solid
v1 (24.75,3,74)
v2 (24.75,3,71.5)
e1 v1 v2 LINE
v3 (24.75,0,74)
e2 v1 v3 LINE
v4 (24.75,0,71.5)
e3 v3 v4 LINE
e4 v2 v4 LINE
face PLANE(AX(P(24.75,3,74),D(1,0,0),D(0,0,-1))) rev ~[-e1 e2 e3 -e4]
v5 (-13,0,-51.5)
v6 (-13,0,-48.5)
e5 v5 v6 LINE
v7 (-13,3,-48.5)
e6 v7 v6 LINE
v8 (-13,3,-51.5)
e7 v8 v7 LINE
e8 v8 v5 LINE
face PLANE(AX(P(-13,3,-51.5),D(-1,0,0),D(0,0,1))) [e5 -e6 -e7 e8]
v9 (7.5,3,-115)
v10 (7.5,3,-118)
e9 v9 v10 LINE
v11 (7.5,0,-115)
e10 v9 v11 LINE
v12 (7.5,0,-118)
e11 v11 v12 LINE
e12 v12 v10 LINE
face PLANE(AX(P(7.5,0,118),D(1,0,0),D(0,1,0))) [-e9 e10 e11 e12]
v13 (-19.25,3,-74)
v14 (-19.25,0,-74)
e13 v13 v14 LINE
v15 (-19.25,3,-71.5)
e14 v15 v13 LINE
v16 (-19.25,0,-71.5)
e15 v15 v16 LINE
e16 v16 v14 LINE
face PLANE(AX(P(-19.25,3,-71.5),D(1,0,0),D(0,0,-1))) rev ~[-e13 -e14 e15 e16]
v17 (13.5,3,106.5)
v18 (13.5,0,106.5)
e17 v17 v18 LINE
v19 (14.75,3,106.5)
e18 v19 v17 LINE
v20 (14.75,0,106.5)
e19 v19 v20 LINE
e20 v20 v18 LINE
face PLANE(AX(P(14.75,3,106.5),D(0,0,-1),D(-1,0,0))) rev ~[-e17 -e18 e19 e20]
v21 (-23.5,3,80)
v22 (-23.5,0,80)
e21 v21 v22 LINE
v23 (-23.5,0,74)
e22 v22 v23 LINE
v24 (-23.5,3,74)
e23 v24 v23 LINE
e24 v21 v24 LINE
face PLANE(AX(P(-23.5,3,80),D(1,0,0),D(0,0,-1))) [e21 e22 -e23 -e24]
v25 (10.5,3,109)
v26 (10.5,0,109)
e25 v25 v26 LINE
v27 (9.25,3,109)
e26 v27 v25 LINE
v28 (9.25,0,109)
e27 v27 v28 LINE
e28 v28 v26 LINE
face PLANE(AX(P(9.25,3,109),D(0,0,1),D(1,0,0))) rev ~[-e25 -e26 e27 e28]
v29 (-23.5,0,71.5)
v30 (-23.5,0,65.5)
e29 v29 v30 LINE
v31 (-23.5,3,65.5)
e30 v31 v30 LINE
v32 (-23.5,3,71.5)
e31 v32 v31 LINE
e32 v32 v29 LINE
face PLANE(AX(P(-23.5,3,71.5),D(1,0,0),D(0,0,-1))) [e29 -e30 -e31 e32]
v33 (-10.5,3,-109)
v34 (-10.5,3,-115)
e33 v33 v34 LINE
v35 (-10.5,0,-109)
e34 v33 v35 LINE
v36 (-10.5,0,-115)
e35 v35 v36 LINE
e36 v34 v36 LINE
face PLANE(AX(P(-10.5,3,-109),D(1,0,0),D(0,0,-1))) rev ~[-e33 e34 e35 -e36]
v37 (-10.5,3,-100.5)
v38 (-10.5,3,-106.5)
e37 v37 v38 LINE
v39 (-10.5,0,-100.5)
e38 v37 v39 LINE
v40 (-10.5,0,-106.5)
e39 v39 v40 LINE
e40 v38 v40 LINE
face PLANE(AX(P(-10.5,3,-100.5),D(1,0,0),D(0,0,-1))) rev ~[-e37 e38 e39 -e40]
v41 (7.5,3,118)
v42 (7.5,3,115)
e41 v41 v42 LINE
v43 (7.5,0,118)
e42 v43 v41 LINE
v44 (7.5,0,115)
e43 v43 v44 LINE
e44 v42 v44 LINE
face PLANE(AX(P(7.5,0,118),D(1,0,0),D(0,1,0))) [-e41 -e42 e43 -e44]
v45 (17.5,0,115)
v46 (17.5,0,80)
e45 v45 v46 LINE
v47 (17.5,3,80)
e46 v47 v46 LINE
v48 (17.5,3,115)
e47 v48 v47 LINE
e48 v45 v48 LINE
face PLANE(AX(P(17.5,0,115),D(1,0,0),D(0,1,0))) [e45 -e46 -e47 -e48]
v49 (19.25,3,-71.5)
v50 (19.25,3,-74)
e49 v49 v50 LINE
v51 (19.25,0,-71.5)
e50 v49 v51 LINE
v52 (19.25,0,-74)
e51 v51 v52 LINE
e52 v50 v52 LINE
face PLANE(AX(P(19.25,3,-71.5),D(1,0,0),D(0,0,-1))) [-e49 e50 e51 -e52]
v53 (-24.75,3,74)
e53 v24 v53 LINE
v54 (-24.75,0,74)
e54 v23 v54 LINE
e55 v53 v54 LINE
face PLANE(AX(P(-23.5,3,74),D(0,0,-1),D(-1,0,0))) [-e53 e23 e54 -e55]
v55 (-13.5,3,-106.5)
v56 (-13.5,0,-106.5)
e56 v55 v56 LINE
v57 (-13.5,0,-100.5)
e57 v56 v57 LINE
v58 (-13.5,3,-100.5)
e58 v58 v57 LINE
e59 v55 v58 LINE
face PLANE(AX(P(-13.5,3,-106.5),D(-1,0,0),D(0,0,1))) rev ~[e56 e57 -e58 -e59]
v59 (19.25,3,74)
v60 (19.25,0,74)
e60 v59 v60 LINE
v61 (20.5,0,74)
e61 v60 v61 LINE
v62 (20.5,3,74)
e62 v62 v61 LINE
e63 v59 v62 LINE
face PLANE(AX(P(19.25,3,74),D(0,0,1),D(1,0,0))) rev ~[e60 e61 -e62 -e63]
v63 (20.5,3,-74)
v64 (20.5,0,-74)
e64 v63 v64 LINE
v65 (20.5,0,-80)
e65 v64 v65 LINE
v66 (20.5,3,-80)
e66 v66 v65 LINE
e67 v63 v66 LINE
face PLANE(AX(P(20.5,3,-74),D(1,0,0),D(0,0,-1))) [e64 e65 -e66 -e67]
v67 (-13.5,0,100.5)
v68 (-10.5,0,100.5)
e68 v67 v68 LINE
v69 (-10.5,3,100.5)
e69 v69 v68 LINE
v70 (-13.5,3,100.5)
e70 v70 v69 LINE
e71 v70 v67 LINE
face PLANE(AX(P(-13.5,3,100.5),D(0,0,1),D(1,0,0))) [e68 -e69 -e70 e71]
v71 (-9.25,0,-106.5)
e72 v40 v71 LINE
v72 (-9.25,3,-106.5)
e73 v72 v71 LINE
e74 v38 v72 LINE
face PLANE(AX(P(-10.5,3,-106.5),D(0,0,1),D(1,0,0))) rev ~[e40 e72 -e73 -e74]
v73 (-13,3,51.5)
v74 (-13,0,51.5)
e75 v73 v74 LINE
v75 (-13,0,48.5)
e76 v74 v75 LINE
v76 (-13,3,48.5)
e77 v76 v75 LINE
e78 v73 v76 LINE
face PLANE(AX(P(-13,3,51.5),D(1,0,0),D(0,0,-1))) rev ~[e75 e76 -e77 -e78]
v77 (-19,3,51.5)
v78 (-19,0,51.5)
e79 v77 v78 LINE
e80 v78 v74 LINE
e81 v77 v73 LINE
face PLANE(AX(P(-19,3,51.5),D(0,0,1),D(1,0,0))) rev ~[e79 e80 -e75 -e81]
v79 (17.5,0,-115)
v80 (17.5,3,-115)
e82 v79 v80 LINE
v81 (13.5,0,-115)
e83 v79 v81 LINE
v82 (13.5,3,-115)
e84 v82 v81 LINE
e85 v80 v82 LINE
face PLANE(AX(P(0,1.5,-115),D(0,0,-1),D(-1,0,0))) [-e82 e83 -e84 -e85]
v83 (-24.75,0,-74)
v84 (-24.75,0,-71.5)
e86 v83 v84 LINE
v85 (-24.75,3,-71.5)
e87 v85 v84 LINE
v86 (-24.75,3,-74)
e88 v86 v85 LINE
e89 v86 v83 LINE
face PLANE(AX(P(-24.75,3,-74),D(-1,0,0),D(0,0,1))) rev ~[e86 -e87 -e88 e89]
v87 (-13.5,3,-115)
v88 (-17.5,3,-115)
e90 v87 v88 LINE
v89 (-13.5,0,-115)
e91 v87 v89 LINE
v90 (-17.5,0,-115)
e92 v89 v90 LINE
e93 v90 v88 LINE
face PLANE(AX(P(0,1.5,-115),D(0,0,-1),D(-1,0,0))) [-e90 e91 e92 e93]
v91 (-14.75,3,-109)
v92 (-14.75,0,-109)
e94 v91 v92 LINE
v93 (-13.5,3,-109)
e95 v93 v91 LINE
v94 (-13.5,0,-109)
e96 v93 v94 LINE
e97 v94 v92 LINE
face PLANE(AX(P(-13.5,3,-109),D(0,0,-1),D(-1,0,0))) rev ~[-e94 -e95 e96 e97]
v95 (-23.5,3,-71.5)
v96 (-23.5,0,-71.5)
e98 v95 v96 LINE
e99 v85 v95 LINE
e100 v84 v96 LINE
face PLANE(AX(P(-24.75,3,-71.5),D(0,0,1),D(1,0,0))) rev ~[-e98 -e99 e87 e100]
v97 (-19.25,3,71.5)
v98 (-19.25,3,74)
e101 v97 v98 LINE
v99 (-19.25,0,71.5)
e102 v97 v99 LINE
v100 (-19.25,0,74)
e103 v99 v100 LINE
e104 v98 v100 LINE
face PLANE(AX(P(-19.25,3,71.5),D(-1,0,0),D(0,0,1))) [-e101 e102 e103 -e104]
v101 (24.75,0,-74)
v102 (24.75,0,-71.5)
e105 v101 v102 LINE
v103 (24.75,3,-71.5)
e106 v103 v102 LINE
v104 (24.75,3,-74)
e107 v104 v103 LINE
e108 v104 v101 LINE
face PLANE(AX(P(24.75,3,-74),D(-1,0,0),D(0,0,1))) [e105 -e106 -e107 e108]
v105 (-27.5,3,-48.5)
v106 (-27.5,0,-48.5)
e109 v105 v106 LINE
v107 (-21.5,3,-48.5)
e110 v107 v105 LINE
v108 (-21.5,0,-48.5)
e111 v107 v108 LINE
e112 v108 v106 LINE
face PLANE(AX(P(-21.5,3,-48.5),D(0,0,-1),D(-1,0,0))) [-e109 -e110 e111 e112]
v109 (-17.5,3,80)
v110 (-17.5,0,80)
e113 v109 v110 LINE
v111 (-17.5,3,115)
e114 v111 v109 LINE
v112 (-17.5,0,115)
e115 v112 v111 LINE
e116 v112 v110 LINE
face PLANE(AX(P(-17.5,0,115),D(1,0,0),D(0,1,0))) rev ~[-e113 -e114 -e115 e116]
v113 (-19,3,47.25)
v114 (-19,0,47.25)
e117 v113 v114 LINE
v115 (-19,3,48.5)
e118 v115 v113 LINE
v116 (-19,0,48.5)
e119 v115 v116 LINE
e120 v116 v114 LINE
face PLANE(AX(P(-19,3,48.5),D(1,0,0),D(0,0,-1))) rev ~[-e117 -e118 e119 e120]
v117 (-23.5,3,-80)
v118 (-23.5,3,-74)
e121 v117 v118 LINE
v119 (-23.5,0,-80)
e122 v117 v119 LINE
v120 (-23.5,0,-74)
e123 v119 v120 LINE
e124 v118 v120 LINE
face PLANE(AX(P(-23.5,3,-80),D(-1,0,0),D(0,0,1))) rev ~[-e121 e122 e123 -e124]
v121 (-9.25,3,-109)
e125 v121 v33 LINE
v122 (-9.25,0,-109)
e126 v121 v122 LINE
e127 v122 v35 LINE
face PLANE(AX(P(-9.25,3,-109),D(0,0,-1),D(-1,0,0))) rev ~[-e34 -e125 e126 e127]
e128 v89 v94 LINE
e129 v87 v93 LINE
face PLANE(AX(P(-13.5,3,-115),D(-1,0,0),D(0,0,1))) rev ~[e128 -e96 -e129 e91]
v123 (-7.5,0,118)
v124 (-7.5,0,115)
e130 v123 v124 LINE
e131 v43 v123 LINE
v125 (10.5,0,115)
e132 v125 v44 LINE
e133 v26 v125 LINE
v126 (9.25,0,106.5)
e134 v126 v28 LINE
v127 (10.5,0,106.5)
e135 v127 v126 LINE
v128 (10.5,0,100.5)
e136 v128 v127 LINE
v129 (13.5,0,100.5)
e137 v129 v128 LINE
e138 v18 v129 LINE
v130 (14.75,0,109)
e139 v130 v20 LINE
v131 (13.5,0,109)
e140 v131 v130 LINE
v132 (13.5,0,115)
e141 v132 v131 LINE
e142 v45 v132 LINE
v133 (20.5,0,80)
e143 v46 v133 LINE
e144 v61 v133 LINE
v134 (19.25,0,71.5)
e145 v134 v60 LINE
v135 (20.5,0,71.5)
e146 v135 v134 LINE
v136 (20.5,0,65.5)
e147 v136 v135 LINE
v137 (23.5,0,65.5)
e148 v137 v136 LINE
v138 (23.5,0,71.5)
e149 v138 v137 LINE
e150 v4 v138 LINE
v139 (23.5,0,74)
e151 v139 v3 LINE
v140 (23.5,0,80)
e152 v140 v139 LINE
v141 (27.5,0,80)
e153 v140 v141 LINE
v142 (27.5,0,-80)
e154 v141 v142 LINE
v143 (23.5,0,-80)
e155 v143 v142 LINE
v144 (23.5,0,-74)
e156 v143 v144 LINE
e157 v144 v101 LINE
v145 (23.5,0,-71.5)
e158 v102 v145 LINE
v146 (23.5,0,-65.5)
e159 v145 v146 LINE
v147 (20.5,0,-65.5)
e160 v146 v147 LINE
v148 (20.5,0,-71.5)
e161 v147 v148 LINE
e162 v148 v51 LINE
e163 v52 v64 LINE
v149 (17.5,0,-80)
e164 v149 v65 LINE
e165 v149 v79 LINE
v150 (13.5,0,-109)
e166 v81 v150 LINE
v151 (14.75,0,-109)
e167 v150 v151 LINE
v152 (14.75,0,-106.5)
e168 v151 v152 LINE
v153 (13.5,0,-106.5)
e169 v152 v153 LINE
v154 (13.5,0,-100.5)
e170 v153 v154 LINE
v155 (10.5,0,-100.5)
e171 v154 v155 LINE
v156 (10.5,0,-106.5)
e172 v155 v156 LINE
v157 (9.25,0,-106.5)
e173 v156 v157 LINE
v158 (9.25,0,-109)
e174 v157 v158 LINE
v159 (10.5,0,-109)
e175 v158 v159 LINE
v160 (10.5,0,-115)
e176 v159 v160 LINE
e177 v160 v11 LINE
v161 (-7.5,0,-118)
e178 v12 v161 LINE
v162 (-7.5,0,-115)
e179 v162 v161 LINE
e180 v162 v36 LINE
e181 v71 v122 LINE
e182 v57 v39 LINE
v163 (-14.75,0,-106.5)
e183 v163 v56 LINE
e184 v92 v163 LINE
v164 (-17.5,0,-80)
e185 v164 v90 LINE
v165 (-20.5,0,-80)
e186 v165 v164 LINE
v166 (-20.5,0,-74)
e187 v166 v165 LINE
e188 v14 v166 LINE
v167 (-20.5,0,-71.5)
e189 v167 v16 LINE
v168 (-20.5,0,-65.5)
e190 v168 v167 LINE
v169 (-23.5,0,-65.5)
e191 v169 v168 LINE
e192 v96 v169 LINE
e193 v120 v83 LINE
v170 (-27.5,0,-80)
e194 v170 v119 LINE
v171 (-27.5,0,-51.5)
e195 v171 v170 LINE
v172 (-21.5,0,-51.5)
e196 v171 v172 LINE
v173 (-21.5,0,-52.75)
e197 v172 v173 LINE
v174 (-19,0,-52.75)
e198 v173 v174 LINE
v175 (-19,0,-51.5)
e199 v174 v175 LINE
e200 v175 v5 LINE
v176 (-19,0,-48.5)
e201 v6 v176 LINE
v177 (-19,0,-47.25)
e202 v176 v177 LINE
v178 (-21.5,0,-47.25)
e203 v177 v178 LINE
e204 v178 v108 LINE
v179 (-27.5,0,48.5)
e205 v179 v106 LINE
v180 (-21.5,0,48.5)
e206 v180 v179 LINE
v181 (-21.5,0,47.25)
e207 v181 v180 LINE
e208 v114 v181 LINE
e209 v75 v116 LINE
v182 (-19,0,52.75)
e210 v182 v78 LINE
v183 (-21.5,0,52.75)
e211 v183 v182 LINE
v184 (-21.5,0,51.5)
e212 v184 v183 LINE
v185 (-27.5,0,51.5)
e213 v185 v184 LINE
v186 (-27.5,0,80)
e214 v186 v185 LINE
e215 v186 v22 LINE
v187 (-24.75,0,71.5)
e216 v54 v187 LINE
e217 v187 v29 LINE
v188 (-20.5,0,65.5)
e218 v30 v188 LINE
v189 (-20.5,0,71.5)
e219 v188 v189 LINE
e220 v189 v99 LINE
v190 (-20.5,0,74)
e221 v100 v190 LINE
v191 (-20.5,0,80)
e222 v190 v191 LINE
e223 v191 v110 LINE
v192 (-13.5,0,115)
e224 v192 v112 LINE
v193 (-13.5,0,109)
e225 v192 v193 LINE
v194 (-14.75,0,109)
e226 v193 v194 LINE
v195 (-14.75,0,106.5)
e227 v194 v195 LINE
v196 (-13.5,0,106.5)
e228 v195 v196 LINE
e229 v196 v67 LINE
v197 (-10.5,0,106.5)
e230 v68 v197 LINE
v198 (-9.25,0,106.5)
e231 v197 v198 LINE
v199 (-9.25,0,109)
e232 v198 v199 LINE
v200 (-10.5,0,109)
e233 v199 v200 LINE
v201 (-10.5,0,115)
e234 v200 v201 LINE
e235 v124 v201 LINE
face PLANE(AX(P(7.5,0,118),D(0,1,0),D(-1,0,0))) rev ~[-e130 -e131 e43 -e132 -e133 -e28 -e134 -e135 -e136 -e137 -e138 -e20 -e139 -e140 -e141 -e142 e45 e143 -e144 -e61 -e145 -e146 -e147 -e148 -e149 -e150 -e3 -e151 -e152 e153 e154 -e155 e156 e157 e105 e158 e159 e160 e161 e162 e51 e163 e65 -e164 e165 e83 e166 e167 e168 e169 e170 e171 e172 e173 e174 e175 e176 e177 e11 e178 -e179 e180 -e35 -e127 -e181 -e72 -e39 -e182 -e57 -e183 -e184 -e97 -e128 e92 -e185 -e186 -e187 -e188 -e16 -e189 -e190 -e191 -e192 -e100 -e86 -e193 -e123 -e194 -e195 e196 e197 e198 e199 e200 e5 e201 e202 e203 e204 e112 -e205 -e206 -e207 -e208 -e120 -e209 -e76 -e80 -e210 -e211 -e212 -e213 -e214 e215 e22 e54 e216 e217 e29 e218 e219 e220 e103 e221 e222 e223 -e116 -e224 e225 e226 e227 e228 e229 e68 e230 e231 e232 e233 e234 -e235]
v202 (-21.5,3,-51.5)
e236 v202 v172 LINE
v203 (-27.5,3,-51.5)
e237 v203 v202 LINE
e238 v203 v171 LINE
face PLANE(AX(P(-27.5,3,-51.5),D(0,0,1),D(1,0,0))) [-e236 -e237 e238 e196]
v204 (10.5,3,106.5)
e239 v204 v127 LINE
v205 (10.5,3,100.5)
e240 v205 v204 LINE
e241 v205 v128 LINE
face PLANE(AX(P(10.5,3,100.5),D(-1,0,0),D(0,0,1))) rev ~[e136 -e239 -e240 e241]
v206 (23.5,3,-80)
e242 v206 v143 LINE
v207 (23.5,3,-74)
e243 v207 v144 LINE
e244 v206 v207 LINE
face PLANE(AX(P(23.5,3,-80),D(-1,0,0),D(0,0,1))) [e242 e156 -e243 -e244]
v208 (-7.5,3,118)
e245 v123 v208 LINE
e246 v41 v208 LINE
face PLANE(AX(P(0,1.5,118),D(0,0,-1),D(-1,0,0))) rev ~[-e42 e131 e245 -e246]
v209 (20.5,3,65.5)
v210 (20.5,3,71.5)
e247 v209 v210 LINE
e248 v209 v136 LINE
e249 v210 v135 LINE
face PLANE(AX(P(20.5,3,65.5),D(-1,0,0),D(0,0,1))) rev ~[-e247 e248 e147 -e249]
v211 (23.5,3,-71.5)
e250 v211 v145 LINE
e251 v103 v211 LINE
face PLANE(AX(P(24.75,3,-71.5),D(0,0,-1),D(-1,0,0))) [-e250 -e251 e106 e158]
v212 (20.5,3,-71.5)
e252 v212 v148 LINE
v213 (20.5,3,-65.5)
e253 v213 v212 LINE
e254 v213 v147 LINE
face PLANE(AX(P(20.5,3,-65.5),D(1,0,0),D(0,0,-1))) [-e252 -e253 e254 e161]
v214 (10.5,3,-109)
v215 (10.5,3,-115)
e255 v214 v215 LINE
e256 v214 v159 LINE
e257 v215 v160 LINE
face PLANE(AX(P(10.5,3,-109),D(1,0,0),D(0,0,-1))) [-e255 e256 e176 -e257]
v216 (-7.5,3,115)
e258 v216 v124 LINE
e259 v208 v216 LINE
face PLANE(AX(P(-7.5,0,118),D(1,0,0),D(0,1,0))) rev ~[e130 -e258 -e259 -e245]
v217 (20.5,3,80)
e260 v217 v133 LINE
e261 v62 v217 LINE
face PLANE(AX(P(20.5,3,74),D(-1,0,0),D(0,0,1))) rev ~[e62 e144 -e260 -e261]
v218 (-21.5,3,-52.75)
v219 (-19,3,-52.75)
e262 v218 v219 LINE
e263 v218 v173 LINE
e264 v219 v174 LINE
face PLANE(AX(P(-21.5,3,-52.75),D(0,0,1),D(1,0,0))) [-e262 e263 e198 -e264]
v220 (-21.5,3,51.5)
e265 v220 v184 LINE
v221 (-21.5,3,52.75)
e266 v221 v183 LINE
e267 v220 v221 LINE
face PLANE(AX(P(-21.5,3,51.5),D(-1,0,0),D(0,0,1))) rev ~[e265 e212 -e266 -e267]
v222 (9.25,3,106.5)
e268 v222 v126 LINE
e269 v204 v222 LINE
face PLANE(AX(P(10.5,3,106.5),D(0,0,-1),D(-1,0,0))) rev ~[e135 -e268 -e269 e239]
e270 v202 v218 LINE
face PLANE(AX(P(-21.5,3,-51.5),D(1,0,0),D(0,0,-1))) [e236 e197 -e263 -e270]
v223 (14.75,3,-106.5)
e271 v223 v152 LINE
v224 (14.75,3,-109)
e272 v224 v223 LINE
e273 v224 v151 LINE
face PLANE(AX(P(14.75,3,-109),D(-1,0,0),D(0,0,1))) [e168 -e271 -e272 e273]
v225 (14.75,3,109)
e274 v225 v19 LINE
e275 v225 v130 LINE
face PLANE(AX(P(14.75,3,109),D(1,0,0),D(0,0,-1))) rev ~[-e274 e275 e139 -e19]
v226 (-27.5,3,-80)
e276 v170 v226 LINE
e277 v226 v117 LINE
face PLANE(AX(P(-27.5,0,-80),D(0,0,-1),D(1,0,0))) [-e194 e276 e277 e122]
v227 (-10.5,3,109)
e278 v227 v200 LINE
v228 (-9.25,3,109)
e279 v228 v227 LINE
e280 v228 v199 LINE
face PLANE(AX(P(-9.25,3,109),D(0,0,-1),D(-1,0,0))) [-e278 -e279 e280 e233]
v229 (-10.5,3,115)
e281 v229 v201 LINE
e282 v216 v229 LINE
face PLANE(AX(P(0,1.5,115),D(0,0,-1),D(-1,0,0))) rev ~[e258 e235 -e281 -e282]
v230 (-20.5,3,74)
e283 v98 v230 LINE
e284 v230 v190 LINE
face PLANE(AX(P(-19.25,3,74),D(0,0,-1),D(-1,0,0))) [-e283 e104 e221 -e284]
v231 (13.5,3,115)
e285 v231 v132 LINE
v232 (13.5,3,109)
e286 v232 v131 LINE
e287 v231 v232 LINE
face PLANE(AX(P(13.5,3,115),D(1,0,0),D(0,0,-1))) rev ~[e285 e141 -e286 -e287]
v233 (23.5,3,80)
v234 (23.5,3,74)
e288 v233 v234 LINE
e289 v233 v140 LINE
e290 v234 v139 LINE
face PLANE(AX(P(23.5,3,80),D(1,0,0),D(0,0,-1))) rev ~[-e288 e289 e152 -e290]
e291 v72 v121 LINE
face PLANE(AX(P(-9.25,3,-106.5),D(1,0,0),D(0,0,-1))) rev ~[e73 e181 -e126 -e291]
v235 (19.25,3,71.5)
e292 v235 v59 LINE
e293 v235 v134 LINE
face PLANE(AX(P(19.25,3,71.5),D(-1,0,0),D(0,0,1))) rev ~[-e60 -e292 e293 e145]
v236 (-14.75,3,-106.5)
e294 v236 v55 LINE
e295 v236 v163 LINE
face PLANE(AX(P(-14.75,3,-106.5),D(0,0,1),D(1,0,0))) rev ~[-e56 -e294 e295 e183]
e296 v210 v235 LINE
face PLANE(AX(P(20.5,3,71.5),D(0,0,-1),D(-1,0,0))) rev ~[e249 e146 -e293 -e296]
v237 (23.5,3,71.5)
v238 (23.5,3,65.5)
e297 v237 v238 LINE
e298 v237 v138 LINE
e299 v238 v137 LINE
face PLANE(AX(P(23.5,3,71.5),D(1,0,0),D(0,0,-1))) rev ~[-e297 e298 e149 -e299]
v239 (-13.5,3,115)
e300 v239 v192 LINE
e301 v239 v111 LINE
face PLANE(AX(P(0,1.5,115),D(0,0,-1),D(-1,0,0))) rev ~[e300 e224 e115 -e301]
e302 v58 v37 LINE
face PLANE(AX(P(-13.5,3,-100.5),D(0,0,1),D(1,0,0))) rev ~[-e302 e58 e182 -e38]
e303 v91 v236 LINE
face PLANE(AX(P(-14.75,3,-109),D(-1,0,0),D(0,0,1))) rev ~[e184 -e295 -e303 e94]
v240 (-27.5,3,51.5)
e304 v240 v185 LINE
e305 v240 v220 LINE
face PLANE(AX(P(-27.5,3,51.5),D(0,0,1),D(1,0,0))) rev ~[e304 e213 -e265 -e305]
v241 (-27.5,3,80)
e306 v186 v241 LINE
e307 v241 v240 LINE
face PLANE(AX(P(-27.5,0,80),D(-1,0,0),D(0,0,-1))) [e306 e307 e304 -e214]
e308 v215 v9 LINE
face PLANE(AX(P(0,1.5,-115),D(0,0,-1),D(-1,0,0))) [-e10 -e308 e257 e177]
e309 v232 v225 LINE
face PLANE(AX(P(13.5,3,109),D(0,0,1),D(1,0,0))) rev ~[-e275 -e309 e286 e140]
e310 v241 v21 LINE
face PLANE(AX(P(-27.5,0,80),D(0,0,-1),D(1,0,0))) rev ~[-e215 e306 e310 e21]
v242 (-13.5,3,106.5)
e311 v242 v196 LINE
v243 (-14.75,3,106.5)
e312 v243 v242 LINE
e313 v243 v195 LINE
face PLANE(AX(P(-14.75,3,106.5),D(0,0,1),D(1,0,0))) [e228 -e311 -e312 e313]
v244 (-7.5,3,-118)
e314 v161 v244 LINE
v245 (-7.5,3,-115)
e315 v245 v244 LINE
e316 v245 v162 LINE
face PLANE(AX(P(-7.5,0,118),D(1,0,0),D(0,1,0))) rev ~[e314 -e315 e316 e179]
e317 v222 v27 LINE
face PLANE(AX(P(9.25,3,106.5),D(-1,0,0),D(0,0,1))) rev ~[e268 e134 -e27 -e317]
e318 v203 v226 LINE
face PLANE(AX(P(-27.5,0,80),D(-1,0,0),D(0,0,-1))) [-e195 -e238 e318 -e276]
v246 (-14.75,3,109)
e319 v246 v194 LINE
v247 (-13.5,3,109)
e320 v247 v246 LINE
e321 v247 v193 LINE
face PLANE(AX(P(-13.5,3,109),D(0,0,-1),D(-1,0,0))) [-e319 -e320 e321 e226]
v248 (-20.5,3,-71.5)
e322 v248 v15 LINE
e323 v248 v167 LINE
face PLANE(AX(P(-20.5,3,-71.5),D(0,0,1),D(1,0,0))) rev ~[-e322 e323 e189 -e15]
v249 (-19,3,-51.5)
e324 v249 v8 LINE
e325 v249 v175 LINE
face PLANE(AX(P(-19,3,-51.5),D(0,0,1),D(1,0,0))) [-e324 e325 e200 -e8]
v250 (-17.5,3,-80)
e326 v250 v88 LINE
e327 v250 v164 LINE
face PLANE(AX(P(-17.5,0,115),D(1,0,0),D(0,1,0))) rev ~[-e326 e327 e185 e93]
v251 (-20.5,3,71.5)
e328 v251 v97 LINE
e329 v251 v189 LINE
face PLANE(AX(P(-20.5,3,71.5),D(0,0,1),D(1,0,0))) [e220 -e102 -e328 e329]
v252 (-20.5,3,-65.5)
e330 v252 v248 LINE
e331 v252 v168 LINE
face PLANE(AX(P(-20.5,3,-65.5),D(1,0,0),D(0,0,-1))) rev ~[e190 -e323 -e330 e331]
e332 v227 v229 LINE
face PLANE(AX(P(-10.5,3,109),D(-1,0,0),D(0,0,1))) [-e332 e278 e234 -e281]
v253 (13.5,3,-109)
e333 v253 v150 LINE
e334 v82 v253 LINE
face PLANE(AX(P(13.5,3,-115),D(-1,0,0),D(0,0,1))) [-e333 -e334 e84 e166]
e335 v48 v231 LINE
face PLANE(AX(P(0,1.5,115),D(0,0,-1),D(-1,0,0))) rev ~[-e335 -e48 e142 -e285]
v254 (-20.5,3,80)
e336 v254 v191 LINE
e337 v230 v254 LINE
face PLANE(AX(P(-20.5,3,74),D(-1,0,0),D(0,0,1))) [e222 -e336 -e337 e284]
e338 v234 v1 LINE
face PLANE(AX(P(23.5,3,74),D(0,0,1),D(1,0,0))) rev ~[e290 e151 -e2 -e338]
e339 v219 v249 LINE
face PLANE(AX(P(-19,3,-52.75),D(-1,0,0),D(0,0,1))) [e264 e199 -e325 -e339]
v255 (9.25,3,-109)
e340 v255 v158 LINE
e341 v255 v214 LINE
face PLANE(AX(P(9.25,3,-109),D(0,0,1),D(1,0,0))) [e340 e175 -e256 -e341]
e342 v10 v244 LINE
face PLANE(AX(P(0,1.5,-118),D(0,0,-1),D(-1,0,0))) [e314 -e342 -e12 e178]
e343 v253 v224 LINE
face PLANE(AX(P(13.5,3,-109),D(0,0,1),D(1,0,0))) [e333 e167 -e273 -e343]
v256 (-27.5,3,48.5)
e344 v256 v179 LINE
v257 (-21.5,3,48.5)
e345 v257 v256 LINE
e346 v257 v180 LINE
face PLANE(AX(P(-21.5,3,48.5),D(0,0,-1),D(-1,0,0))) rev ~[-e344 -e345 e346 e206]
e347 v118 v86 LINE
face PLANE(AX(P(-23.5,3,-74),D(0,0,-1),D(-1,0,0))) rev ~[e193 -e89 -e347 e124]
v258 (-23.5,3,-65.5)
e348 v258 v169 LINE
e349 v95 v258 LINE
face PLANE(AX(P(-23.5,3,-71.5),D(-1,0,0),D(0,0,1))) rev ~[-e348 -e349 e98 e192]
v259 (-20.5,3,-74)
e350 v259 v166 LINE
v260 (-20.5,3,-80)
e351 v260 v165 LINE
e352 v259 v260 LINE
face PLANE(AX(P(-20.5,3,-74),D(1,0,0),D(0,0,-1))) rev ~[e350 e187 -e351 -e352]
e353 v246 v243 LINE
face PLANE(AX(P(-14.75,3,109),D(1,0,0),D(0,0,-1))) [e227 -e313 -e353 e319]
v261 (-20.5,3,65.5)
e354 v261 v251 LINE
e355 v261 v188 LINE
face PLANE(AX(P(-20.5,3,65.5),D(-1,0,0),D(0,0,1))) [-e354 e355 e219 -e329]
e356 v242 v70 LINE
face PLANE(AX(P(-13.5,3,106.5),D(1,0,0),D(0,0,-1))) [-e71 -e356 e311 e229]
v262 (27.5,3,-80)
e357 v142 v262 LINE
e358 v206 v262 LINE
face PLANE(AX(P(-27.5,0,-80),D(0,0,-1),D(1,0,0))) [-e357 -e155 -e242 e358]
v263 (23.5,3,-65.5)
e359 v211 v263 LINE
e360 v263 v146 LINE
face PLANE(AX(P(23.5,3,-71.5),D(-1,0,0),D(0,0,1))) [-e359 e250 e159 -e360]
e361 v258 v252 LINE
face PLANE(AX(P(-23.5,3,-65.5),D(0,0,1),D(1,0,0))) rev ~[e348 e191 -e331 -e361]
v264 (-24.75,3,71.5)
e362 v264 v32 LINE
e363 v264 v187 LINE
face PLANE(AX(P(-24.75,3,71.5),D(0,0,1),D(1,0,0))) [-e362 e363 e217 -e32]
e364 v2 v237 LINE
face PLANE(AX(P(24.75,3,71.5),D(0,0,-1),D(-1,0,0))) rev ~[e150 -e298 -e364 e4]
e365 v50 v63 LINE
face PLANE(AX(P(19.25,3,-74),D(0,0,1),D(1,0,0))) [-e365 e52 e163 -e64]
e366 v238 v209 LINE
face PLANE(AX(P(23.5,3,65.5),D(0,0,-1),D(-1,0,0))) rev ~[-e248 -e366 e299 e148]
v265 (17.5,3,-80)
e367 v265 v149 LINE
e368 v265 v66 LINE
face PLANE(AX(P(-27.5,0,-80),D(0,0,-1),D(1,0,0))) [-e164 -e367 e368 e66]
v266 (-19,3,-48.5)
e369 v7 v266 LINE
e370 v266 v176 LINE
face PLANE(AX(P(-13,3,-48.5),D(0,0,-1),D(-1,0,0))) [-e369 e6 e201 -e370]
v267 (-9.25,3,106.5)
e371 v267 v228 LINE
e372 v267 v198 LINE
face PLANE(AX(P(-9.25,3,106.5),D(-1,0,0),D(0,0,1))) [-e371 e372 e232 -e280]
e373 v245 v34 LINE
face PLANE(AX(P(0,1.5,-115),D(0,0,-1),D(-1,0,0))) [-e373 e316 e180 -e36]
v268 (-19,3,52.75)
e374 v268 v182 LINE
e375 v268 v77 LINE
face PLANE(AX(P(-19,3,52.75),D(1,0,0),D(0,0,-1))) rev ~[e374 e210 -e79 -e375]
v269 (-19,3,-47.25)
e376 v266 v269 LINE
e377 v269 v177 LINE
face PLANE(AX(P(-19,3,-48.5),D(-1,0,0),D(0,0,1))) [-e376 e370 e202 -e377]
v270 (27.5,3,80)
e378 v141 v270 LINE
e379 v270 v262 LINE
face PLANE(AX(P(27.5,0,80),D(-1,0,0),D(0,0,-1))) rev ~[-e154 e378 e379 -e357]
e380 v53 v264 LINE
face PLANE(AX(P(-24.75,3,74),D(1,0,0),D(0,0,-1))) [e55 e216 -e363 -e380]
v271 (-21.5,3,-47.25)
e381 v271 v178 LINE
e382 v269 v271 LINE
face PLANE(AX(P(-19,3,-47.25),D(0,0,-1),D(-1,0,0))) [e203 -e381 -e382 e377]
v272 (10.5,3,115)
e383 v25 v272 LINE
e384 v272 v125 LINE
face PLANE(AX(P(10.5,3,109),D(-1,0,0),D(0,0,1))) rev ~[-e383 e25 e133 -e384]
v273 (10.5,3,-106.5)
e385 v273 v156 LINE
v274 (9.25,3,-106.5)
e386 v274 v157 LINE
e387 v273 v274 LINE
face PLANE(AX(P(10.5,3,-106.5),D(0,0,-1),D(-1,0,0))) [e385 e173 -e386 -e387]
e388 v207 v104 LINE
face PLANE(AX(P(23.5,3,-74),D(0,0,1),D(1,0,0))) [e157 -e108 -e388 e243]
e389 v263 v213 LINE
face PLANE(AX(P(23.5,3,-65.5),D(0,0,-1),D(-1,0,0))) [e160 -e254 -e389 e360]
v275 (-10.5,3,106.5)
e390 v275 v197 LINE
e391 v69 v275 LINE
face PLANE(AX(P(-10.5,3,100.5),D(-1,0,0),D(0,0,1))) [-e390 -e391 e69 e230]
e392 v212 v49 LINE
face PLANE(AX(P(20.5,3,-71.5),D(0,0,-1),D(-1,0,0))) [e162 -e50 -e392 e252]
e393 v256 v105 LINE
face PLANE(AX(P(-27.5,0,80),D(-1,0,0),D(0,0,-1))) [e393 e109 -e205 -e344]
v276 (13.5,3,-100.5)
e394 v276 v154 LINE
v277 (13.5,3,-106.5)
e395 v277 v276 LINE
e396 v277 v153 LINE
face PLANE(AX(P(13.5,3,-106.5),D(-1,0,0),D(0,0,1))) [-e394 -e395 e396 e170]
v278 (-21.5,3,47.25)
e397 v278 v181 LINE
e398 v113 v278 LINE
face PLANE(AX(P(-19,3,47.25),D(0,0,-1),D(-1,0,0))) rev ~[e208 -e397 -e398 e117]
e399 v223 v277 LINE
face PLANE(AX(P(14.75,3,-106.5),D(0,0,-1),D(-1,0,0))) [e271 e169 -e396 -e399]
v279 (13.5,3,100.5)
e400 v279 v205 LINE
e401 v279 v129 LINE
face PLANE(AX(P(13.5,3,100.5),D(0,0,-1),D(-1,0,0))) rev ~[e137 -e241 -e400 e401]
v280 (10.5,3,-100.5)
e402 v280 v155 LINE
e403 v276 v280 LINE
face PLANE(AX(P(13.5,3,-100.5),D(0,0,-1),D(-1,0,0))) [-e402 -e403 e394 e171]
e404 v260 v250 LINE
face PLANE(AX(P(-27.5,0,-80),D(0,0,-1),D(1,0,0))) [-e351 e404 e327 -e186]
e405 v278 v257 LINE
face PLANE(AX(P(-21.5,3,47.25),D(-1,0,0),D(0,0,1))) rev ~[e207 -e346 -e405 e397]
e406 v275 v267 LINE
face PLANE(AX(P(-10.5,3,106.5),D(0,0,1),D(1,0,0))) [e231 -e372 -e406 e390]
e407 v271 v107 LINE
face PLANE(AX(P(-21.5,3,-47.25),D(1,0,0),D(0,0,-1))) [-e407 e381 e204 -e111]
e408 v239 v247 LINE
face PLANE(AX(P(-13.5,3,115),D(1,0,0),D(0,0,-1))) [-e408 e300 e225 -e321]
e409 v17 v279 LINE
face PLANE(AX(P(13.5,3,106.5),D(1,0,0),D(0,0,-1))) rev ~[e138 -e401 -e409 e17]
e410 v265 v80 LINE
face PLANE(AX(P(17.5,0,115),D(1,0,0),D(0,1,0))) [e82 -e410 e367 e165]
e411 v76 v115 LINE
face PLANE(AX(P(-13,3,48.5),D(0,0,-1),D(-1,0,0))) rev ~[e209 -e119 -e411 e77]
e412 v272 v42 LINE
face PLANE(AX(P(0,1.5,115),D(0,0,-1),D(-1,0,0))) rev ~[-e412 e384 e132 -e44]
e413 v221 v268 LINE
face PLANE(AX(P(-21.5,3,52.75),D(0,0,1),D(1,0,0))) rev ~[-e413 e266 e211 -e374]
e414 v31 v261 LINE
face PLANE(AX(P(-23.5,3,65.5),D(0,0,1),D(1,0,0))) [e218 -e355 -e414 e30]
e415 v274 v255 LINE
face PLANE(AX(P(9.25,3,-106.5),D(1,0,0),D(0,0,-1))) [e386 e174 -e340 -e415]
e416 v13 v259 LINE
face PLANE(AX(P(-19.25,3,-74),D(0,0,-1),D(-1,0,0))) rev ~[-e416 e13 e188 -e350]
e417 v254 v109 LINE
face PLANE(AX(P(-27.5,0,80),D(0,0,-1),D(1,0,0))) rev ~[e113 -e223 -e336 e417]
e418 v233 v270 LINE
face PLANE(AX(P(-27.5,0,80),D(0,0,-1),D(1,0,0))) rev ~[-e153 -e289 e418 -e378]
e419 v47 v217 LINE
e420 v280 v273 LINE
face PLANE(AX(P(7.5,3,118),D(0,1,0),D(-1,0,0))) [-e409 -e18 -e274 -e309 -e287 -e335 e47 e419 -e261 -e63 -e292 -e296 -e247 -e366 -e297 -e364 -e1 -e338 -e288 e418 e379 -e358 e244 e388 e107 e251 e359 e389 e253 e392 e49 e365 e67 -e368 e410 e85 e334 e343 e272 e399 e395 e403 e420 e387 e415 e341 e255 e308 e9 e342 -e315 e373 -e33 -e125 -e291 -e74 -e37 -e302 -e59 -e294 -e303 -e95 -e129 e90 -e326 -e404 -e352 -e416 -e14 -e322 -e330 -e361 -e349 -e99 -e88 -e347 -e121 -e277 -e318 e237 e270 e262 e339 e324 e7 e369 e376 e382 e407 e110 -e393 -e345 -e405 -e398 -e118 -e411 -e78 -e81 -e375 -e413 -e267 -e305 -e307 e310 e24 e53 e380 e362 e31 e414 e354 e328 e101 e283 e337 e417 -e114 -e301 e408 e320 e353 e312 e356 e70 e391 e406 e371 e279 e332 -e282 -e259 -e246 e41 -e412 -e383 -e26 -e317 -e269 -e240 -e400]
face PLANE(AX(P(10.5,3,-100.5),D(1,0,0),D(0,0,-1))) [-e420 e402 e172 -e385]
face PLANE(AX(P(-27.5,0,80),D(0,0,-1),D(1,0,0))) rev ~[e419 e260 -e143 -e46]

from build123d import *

# Parameters (mm, degrees)
SKETCH_1_W           = 55
SKETCH_1_H           = 160
EXTRUDE_1_DEPTH      = 3
EXTRUDE_2_DEPTH      = 35
EXTRUDE_2_DEPTH_BACK = 195
SKETCH_2_W           = 35
SKETCH_2_H           = 3
EXTRUDE_3_DEPTH      = 3
EXTRUDE_3_DEPTH_BACK = 233
SKETCH_3_W           = 15
SKETCH_3_H           = 3
CUT_EXTRUDE_1_DEPTH  = 3
CUT_EXTRUDE_2_DEPTH  = 3


with BuildPart() as part:
    # Эскиз1 → Бобышка-Вытянуть1 (new body)
    with BuildSketch(Plane(origin=(0, 0, 0), x_dir=(1, 0, 0), z_dir=(0, 1, 0))):
        Rectangle(SKETCH_1_W, SKETCH_1_H)
    extrude(amount=EXTRUDE_1_DEPTH)

    # Эскиз2 → Бобышка-Вытянуть2 (add, two sides: drawn at the far end of the back side and taken through both)
    with BuildSketch(Plane(origin=(0, 0, -80), x_dir=(-1, 0, 0), z_dir=(0, 0, -1)).offset(-EXTRUDE_2_DEPTH_BACK)):
        with Locations((0, 1.5)):
            Rectangle(SKETCH_2_W, SKETCH_2_H)
    extrude(amount=EXTRUDE_2_DEPTH + EXTRUDE_2_DEPTH_BACK)

    # Эскиз3 → Бобышка-Вытянуть3 (add, two sides: drawn at the far end of the back side and taken through both)
    with BuildSketch(Plane(origin=(0, 0, -115), x_dir=(-1, 0, 0), z_dir=(0, 0, -1)).offset(-EXTRUDE_3_DEPTH_BACK)):
        with Locations((0, 1.5)):
            Rectangle(SKETCH_3_W, SKETCH_3_H)
    extrude(amount=EXTRUDE_3_DEPTH + EXTRUDE_3_DEPTH_BACK)

    # Эскиз4 → Вырез-Вытянуть1 (cut)
    with BuildSketch(Plane(origin=(0, 3, 0), x_dir=(1, 0, 0), z_dir=(0, 1, 0))):
        Polygon((-23.5, 80), (-23.5, 74), (-24.75, 74), (-24.75, 71.5), (-23.5, 71.5), (-23.5, 65.5), (-20.5, 65.5), (-20.5, 71.5), (-19.25, 71.5), (-19.25, 74), (-20.5, 74), (-20.5, 80), align=None)
        Polygon((-13.5, 115), (-13.5, 109), (-14.75, 109), (-14.75, 106.5), (-13.5, 106.5), (-13.5, 100.5), (-10.5, 100.5), (-10.5, 106.5), (-9.25, 106.5), (-9.25, 109), (-10.5, 109), (-10.5, 115), align=None)
        Polygon((10.5, 115), (13.5, 115), (13.5, 109), (14.75, 109), (14.75, 106.5), (13.5, 106.5), (13.5, 100.5), (10.5, 100.5), (10.5, 106.5), (9.25, 106.5), (9.25, 109), (10.5, 109), align=None)
        Polygon((20.5, 80), (23.5, 80), (23.5, 74), (24.75, 74), (24.75, 71.5), (23.5, 71.5), (23.5, 65.5), (20.5, 65.5), (20.5, 71.5), (19.25, 71.5), (19.25, 74), (20.5, 74), align=None)
        Polygon((-10.5, -115), (-13.5, -115), (-13.5, -109), (-14.75, -109), (-14.75, -106.5), (-13.5, -106.5), (-13.5, -100.5), (-10.5, -100.5), (-10.5, -106.5), (-9.25, -106.5), (-9.25, -109), (-10.5, -109), align=None)
        Polygon((13.5, -115), (13.5, -109), (14.75, -109), (14.75, -106.5), (13.5, -106.5), (13.5, -100.5), (10.5, -100.5), (10.5, -106.5), (9.25, -106.5), (9.25, -109), (10.5, -109), (10.5, -115), align=None)
        Polygon((-20.5, -80), (-23.5, -80), (-23.5, -74), (-24.75, -74), (-24.75, -71.5), (-23.5, -71.5), (-23.5, -65.5), (-20.5, -65.5), (-20.5, -71.5), (-19.25, -71.5), (-19.25, -74), (-20.5, -74), align=None)
        Polygon((23.5, -80), (23.5, -74), (24.75, -74), (24.75, -71.5), (23.5, -71.5), (23.5, -65.5), (20.5, -65.5), (20.5, -71.5), (19.25, -71.5), (19.25, -74), (20.5, -74), (20.5, -80), align=None)
    extrude(amount=-CUT_EXTRUDE_1_DEPTH, mode=Mode.SUBTRACT)

    # Эскиз5 → Вырез-Вытянуть2 (cut)
    with BuildSketch(Plane(origin=(0, 3, 0), x_dir=(1, 0, 0), z_dir=(0, 1, 0))):
        Polygon((-27.5, 51.5), (-21.5, 51.5), (-21.5, 52.75), (-19, 52.75), (-19, 51.5), (-13, 51.5), (-13, 48.5), (-19, 48.5), (-19, 47.25), (-21.5, 47.25), (-21.5, 48.5), (-27.5, 48.5), align=None)
        Polygon((-27.5, -48.5), (-27.5, -51.5), (-21.5, -51.5), (-21.5, -52.75), (-19, -52.75), (-19, -51.5), (-13, -51.5), (-13, -48.5), (-19, -48.5), (-19, -47.25), (-21.5, -47.25), (-21.5, -48.5), align=None)
    extrude(amount=-CUT_EXTRUDE_2_DEPTH, mode=Mode.SUBTRACT)


solid = part.part
